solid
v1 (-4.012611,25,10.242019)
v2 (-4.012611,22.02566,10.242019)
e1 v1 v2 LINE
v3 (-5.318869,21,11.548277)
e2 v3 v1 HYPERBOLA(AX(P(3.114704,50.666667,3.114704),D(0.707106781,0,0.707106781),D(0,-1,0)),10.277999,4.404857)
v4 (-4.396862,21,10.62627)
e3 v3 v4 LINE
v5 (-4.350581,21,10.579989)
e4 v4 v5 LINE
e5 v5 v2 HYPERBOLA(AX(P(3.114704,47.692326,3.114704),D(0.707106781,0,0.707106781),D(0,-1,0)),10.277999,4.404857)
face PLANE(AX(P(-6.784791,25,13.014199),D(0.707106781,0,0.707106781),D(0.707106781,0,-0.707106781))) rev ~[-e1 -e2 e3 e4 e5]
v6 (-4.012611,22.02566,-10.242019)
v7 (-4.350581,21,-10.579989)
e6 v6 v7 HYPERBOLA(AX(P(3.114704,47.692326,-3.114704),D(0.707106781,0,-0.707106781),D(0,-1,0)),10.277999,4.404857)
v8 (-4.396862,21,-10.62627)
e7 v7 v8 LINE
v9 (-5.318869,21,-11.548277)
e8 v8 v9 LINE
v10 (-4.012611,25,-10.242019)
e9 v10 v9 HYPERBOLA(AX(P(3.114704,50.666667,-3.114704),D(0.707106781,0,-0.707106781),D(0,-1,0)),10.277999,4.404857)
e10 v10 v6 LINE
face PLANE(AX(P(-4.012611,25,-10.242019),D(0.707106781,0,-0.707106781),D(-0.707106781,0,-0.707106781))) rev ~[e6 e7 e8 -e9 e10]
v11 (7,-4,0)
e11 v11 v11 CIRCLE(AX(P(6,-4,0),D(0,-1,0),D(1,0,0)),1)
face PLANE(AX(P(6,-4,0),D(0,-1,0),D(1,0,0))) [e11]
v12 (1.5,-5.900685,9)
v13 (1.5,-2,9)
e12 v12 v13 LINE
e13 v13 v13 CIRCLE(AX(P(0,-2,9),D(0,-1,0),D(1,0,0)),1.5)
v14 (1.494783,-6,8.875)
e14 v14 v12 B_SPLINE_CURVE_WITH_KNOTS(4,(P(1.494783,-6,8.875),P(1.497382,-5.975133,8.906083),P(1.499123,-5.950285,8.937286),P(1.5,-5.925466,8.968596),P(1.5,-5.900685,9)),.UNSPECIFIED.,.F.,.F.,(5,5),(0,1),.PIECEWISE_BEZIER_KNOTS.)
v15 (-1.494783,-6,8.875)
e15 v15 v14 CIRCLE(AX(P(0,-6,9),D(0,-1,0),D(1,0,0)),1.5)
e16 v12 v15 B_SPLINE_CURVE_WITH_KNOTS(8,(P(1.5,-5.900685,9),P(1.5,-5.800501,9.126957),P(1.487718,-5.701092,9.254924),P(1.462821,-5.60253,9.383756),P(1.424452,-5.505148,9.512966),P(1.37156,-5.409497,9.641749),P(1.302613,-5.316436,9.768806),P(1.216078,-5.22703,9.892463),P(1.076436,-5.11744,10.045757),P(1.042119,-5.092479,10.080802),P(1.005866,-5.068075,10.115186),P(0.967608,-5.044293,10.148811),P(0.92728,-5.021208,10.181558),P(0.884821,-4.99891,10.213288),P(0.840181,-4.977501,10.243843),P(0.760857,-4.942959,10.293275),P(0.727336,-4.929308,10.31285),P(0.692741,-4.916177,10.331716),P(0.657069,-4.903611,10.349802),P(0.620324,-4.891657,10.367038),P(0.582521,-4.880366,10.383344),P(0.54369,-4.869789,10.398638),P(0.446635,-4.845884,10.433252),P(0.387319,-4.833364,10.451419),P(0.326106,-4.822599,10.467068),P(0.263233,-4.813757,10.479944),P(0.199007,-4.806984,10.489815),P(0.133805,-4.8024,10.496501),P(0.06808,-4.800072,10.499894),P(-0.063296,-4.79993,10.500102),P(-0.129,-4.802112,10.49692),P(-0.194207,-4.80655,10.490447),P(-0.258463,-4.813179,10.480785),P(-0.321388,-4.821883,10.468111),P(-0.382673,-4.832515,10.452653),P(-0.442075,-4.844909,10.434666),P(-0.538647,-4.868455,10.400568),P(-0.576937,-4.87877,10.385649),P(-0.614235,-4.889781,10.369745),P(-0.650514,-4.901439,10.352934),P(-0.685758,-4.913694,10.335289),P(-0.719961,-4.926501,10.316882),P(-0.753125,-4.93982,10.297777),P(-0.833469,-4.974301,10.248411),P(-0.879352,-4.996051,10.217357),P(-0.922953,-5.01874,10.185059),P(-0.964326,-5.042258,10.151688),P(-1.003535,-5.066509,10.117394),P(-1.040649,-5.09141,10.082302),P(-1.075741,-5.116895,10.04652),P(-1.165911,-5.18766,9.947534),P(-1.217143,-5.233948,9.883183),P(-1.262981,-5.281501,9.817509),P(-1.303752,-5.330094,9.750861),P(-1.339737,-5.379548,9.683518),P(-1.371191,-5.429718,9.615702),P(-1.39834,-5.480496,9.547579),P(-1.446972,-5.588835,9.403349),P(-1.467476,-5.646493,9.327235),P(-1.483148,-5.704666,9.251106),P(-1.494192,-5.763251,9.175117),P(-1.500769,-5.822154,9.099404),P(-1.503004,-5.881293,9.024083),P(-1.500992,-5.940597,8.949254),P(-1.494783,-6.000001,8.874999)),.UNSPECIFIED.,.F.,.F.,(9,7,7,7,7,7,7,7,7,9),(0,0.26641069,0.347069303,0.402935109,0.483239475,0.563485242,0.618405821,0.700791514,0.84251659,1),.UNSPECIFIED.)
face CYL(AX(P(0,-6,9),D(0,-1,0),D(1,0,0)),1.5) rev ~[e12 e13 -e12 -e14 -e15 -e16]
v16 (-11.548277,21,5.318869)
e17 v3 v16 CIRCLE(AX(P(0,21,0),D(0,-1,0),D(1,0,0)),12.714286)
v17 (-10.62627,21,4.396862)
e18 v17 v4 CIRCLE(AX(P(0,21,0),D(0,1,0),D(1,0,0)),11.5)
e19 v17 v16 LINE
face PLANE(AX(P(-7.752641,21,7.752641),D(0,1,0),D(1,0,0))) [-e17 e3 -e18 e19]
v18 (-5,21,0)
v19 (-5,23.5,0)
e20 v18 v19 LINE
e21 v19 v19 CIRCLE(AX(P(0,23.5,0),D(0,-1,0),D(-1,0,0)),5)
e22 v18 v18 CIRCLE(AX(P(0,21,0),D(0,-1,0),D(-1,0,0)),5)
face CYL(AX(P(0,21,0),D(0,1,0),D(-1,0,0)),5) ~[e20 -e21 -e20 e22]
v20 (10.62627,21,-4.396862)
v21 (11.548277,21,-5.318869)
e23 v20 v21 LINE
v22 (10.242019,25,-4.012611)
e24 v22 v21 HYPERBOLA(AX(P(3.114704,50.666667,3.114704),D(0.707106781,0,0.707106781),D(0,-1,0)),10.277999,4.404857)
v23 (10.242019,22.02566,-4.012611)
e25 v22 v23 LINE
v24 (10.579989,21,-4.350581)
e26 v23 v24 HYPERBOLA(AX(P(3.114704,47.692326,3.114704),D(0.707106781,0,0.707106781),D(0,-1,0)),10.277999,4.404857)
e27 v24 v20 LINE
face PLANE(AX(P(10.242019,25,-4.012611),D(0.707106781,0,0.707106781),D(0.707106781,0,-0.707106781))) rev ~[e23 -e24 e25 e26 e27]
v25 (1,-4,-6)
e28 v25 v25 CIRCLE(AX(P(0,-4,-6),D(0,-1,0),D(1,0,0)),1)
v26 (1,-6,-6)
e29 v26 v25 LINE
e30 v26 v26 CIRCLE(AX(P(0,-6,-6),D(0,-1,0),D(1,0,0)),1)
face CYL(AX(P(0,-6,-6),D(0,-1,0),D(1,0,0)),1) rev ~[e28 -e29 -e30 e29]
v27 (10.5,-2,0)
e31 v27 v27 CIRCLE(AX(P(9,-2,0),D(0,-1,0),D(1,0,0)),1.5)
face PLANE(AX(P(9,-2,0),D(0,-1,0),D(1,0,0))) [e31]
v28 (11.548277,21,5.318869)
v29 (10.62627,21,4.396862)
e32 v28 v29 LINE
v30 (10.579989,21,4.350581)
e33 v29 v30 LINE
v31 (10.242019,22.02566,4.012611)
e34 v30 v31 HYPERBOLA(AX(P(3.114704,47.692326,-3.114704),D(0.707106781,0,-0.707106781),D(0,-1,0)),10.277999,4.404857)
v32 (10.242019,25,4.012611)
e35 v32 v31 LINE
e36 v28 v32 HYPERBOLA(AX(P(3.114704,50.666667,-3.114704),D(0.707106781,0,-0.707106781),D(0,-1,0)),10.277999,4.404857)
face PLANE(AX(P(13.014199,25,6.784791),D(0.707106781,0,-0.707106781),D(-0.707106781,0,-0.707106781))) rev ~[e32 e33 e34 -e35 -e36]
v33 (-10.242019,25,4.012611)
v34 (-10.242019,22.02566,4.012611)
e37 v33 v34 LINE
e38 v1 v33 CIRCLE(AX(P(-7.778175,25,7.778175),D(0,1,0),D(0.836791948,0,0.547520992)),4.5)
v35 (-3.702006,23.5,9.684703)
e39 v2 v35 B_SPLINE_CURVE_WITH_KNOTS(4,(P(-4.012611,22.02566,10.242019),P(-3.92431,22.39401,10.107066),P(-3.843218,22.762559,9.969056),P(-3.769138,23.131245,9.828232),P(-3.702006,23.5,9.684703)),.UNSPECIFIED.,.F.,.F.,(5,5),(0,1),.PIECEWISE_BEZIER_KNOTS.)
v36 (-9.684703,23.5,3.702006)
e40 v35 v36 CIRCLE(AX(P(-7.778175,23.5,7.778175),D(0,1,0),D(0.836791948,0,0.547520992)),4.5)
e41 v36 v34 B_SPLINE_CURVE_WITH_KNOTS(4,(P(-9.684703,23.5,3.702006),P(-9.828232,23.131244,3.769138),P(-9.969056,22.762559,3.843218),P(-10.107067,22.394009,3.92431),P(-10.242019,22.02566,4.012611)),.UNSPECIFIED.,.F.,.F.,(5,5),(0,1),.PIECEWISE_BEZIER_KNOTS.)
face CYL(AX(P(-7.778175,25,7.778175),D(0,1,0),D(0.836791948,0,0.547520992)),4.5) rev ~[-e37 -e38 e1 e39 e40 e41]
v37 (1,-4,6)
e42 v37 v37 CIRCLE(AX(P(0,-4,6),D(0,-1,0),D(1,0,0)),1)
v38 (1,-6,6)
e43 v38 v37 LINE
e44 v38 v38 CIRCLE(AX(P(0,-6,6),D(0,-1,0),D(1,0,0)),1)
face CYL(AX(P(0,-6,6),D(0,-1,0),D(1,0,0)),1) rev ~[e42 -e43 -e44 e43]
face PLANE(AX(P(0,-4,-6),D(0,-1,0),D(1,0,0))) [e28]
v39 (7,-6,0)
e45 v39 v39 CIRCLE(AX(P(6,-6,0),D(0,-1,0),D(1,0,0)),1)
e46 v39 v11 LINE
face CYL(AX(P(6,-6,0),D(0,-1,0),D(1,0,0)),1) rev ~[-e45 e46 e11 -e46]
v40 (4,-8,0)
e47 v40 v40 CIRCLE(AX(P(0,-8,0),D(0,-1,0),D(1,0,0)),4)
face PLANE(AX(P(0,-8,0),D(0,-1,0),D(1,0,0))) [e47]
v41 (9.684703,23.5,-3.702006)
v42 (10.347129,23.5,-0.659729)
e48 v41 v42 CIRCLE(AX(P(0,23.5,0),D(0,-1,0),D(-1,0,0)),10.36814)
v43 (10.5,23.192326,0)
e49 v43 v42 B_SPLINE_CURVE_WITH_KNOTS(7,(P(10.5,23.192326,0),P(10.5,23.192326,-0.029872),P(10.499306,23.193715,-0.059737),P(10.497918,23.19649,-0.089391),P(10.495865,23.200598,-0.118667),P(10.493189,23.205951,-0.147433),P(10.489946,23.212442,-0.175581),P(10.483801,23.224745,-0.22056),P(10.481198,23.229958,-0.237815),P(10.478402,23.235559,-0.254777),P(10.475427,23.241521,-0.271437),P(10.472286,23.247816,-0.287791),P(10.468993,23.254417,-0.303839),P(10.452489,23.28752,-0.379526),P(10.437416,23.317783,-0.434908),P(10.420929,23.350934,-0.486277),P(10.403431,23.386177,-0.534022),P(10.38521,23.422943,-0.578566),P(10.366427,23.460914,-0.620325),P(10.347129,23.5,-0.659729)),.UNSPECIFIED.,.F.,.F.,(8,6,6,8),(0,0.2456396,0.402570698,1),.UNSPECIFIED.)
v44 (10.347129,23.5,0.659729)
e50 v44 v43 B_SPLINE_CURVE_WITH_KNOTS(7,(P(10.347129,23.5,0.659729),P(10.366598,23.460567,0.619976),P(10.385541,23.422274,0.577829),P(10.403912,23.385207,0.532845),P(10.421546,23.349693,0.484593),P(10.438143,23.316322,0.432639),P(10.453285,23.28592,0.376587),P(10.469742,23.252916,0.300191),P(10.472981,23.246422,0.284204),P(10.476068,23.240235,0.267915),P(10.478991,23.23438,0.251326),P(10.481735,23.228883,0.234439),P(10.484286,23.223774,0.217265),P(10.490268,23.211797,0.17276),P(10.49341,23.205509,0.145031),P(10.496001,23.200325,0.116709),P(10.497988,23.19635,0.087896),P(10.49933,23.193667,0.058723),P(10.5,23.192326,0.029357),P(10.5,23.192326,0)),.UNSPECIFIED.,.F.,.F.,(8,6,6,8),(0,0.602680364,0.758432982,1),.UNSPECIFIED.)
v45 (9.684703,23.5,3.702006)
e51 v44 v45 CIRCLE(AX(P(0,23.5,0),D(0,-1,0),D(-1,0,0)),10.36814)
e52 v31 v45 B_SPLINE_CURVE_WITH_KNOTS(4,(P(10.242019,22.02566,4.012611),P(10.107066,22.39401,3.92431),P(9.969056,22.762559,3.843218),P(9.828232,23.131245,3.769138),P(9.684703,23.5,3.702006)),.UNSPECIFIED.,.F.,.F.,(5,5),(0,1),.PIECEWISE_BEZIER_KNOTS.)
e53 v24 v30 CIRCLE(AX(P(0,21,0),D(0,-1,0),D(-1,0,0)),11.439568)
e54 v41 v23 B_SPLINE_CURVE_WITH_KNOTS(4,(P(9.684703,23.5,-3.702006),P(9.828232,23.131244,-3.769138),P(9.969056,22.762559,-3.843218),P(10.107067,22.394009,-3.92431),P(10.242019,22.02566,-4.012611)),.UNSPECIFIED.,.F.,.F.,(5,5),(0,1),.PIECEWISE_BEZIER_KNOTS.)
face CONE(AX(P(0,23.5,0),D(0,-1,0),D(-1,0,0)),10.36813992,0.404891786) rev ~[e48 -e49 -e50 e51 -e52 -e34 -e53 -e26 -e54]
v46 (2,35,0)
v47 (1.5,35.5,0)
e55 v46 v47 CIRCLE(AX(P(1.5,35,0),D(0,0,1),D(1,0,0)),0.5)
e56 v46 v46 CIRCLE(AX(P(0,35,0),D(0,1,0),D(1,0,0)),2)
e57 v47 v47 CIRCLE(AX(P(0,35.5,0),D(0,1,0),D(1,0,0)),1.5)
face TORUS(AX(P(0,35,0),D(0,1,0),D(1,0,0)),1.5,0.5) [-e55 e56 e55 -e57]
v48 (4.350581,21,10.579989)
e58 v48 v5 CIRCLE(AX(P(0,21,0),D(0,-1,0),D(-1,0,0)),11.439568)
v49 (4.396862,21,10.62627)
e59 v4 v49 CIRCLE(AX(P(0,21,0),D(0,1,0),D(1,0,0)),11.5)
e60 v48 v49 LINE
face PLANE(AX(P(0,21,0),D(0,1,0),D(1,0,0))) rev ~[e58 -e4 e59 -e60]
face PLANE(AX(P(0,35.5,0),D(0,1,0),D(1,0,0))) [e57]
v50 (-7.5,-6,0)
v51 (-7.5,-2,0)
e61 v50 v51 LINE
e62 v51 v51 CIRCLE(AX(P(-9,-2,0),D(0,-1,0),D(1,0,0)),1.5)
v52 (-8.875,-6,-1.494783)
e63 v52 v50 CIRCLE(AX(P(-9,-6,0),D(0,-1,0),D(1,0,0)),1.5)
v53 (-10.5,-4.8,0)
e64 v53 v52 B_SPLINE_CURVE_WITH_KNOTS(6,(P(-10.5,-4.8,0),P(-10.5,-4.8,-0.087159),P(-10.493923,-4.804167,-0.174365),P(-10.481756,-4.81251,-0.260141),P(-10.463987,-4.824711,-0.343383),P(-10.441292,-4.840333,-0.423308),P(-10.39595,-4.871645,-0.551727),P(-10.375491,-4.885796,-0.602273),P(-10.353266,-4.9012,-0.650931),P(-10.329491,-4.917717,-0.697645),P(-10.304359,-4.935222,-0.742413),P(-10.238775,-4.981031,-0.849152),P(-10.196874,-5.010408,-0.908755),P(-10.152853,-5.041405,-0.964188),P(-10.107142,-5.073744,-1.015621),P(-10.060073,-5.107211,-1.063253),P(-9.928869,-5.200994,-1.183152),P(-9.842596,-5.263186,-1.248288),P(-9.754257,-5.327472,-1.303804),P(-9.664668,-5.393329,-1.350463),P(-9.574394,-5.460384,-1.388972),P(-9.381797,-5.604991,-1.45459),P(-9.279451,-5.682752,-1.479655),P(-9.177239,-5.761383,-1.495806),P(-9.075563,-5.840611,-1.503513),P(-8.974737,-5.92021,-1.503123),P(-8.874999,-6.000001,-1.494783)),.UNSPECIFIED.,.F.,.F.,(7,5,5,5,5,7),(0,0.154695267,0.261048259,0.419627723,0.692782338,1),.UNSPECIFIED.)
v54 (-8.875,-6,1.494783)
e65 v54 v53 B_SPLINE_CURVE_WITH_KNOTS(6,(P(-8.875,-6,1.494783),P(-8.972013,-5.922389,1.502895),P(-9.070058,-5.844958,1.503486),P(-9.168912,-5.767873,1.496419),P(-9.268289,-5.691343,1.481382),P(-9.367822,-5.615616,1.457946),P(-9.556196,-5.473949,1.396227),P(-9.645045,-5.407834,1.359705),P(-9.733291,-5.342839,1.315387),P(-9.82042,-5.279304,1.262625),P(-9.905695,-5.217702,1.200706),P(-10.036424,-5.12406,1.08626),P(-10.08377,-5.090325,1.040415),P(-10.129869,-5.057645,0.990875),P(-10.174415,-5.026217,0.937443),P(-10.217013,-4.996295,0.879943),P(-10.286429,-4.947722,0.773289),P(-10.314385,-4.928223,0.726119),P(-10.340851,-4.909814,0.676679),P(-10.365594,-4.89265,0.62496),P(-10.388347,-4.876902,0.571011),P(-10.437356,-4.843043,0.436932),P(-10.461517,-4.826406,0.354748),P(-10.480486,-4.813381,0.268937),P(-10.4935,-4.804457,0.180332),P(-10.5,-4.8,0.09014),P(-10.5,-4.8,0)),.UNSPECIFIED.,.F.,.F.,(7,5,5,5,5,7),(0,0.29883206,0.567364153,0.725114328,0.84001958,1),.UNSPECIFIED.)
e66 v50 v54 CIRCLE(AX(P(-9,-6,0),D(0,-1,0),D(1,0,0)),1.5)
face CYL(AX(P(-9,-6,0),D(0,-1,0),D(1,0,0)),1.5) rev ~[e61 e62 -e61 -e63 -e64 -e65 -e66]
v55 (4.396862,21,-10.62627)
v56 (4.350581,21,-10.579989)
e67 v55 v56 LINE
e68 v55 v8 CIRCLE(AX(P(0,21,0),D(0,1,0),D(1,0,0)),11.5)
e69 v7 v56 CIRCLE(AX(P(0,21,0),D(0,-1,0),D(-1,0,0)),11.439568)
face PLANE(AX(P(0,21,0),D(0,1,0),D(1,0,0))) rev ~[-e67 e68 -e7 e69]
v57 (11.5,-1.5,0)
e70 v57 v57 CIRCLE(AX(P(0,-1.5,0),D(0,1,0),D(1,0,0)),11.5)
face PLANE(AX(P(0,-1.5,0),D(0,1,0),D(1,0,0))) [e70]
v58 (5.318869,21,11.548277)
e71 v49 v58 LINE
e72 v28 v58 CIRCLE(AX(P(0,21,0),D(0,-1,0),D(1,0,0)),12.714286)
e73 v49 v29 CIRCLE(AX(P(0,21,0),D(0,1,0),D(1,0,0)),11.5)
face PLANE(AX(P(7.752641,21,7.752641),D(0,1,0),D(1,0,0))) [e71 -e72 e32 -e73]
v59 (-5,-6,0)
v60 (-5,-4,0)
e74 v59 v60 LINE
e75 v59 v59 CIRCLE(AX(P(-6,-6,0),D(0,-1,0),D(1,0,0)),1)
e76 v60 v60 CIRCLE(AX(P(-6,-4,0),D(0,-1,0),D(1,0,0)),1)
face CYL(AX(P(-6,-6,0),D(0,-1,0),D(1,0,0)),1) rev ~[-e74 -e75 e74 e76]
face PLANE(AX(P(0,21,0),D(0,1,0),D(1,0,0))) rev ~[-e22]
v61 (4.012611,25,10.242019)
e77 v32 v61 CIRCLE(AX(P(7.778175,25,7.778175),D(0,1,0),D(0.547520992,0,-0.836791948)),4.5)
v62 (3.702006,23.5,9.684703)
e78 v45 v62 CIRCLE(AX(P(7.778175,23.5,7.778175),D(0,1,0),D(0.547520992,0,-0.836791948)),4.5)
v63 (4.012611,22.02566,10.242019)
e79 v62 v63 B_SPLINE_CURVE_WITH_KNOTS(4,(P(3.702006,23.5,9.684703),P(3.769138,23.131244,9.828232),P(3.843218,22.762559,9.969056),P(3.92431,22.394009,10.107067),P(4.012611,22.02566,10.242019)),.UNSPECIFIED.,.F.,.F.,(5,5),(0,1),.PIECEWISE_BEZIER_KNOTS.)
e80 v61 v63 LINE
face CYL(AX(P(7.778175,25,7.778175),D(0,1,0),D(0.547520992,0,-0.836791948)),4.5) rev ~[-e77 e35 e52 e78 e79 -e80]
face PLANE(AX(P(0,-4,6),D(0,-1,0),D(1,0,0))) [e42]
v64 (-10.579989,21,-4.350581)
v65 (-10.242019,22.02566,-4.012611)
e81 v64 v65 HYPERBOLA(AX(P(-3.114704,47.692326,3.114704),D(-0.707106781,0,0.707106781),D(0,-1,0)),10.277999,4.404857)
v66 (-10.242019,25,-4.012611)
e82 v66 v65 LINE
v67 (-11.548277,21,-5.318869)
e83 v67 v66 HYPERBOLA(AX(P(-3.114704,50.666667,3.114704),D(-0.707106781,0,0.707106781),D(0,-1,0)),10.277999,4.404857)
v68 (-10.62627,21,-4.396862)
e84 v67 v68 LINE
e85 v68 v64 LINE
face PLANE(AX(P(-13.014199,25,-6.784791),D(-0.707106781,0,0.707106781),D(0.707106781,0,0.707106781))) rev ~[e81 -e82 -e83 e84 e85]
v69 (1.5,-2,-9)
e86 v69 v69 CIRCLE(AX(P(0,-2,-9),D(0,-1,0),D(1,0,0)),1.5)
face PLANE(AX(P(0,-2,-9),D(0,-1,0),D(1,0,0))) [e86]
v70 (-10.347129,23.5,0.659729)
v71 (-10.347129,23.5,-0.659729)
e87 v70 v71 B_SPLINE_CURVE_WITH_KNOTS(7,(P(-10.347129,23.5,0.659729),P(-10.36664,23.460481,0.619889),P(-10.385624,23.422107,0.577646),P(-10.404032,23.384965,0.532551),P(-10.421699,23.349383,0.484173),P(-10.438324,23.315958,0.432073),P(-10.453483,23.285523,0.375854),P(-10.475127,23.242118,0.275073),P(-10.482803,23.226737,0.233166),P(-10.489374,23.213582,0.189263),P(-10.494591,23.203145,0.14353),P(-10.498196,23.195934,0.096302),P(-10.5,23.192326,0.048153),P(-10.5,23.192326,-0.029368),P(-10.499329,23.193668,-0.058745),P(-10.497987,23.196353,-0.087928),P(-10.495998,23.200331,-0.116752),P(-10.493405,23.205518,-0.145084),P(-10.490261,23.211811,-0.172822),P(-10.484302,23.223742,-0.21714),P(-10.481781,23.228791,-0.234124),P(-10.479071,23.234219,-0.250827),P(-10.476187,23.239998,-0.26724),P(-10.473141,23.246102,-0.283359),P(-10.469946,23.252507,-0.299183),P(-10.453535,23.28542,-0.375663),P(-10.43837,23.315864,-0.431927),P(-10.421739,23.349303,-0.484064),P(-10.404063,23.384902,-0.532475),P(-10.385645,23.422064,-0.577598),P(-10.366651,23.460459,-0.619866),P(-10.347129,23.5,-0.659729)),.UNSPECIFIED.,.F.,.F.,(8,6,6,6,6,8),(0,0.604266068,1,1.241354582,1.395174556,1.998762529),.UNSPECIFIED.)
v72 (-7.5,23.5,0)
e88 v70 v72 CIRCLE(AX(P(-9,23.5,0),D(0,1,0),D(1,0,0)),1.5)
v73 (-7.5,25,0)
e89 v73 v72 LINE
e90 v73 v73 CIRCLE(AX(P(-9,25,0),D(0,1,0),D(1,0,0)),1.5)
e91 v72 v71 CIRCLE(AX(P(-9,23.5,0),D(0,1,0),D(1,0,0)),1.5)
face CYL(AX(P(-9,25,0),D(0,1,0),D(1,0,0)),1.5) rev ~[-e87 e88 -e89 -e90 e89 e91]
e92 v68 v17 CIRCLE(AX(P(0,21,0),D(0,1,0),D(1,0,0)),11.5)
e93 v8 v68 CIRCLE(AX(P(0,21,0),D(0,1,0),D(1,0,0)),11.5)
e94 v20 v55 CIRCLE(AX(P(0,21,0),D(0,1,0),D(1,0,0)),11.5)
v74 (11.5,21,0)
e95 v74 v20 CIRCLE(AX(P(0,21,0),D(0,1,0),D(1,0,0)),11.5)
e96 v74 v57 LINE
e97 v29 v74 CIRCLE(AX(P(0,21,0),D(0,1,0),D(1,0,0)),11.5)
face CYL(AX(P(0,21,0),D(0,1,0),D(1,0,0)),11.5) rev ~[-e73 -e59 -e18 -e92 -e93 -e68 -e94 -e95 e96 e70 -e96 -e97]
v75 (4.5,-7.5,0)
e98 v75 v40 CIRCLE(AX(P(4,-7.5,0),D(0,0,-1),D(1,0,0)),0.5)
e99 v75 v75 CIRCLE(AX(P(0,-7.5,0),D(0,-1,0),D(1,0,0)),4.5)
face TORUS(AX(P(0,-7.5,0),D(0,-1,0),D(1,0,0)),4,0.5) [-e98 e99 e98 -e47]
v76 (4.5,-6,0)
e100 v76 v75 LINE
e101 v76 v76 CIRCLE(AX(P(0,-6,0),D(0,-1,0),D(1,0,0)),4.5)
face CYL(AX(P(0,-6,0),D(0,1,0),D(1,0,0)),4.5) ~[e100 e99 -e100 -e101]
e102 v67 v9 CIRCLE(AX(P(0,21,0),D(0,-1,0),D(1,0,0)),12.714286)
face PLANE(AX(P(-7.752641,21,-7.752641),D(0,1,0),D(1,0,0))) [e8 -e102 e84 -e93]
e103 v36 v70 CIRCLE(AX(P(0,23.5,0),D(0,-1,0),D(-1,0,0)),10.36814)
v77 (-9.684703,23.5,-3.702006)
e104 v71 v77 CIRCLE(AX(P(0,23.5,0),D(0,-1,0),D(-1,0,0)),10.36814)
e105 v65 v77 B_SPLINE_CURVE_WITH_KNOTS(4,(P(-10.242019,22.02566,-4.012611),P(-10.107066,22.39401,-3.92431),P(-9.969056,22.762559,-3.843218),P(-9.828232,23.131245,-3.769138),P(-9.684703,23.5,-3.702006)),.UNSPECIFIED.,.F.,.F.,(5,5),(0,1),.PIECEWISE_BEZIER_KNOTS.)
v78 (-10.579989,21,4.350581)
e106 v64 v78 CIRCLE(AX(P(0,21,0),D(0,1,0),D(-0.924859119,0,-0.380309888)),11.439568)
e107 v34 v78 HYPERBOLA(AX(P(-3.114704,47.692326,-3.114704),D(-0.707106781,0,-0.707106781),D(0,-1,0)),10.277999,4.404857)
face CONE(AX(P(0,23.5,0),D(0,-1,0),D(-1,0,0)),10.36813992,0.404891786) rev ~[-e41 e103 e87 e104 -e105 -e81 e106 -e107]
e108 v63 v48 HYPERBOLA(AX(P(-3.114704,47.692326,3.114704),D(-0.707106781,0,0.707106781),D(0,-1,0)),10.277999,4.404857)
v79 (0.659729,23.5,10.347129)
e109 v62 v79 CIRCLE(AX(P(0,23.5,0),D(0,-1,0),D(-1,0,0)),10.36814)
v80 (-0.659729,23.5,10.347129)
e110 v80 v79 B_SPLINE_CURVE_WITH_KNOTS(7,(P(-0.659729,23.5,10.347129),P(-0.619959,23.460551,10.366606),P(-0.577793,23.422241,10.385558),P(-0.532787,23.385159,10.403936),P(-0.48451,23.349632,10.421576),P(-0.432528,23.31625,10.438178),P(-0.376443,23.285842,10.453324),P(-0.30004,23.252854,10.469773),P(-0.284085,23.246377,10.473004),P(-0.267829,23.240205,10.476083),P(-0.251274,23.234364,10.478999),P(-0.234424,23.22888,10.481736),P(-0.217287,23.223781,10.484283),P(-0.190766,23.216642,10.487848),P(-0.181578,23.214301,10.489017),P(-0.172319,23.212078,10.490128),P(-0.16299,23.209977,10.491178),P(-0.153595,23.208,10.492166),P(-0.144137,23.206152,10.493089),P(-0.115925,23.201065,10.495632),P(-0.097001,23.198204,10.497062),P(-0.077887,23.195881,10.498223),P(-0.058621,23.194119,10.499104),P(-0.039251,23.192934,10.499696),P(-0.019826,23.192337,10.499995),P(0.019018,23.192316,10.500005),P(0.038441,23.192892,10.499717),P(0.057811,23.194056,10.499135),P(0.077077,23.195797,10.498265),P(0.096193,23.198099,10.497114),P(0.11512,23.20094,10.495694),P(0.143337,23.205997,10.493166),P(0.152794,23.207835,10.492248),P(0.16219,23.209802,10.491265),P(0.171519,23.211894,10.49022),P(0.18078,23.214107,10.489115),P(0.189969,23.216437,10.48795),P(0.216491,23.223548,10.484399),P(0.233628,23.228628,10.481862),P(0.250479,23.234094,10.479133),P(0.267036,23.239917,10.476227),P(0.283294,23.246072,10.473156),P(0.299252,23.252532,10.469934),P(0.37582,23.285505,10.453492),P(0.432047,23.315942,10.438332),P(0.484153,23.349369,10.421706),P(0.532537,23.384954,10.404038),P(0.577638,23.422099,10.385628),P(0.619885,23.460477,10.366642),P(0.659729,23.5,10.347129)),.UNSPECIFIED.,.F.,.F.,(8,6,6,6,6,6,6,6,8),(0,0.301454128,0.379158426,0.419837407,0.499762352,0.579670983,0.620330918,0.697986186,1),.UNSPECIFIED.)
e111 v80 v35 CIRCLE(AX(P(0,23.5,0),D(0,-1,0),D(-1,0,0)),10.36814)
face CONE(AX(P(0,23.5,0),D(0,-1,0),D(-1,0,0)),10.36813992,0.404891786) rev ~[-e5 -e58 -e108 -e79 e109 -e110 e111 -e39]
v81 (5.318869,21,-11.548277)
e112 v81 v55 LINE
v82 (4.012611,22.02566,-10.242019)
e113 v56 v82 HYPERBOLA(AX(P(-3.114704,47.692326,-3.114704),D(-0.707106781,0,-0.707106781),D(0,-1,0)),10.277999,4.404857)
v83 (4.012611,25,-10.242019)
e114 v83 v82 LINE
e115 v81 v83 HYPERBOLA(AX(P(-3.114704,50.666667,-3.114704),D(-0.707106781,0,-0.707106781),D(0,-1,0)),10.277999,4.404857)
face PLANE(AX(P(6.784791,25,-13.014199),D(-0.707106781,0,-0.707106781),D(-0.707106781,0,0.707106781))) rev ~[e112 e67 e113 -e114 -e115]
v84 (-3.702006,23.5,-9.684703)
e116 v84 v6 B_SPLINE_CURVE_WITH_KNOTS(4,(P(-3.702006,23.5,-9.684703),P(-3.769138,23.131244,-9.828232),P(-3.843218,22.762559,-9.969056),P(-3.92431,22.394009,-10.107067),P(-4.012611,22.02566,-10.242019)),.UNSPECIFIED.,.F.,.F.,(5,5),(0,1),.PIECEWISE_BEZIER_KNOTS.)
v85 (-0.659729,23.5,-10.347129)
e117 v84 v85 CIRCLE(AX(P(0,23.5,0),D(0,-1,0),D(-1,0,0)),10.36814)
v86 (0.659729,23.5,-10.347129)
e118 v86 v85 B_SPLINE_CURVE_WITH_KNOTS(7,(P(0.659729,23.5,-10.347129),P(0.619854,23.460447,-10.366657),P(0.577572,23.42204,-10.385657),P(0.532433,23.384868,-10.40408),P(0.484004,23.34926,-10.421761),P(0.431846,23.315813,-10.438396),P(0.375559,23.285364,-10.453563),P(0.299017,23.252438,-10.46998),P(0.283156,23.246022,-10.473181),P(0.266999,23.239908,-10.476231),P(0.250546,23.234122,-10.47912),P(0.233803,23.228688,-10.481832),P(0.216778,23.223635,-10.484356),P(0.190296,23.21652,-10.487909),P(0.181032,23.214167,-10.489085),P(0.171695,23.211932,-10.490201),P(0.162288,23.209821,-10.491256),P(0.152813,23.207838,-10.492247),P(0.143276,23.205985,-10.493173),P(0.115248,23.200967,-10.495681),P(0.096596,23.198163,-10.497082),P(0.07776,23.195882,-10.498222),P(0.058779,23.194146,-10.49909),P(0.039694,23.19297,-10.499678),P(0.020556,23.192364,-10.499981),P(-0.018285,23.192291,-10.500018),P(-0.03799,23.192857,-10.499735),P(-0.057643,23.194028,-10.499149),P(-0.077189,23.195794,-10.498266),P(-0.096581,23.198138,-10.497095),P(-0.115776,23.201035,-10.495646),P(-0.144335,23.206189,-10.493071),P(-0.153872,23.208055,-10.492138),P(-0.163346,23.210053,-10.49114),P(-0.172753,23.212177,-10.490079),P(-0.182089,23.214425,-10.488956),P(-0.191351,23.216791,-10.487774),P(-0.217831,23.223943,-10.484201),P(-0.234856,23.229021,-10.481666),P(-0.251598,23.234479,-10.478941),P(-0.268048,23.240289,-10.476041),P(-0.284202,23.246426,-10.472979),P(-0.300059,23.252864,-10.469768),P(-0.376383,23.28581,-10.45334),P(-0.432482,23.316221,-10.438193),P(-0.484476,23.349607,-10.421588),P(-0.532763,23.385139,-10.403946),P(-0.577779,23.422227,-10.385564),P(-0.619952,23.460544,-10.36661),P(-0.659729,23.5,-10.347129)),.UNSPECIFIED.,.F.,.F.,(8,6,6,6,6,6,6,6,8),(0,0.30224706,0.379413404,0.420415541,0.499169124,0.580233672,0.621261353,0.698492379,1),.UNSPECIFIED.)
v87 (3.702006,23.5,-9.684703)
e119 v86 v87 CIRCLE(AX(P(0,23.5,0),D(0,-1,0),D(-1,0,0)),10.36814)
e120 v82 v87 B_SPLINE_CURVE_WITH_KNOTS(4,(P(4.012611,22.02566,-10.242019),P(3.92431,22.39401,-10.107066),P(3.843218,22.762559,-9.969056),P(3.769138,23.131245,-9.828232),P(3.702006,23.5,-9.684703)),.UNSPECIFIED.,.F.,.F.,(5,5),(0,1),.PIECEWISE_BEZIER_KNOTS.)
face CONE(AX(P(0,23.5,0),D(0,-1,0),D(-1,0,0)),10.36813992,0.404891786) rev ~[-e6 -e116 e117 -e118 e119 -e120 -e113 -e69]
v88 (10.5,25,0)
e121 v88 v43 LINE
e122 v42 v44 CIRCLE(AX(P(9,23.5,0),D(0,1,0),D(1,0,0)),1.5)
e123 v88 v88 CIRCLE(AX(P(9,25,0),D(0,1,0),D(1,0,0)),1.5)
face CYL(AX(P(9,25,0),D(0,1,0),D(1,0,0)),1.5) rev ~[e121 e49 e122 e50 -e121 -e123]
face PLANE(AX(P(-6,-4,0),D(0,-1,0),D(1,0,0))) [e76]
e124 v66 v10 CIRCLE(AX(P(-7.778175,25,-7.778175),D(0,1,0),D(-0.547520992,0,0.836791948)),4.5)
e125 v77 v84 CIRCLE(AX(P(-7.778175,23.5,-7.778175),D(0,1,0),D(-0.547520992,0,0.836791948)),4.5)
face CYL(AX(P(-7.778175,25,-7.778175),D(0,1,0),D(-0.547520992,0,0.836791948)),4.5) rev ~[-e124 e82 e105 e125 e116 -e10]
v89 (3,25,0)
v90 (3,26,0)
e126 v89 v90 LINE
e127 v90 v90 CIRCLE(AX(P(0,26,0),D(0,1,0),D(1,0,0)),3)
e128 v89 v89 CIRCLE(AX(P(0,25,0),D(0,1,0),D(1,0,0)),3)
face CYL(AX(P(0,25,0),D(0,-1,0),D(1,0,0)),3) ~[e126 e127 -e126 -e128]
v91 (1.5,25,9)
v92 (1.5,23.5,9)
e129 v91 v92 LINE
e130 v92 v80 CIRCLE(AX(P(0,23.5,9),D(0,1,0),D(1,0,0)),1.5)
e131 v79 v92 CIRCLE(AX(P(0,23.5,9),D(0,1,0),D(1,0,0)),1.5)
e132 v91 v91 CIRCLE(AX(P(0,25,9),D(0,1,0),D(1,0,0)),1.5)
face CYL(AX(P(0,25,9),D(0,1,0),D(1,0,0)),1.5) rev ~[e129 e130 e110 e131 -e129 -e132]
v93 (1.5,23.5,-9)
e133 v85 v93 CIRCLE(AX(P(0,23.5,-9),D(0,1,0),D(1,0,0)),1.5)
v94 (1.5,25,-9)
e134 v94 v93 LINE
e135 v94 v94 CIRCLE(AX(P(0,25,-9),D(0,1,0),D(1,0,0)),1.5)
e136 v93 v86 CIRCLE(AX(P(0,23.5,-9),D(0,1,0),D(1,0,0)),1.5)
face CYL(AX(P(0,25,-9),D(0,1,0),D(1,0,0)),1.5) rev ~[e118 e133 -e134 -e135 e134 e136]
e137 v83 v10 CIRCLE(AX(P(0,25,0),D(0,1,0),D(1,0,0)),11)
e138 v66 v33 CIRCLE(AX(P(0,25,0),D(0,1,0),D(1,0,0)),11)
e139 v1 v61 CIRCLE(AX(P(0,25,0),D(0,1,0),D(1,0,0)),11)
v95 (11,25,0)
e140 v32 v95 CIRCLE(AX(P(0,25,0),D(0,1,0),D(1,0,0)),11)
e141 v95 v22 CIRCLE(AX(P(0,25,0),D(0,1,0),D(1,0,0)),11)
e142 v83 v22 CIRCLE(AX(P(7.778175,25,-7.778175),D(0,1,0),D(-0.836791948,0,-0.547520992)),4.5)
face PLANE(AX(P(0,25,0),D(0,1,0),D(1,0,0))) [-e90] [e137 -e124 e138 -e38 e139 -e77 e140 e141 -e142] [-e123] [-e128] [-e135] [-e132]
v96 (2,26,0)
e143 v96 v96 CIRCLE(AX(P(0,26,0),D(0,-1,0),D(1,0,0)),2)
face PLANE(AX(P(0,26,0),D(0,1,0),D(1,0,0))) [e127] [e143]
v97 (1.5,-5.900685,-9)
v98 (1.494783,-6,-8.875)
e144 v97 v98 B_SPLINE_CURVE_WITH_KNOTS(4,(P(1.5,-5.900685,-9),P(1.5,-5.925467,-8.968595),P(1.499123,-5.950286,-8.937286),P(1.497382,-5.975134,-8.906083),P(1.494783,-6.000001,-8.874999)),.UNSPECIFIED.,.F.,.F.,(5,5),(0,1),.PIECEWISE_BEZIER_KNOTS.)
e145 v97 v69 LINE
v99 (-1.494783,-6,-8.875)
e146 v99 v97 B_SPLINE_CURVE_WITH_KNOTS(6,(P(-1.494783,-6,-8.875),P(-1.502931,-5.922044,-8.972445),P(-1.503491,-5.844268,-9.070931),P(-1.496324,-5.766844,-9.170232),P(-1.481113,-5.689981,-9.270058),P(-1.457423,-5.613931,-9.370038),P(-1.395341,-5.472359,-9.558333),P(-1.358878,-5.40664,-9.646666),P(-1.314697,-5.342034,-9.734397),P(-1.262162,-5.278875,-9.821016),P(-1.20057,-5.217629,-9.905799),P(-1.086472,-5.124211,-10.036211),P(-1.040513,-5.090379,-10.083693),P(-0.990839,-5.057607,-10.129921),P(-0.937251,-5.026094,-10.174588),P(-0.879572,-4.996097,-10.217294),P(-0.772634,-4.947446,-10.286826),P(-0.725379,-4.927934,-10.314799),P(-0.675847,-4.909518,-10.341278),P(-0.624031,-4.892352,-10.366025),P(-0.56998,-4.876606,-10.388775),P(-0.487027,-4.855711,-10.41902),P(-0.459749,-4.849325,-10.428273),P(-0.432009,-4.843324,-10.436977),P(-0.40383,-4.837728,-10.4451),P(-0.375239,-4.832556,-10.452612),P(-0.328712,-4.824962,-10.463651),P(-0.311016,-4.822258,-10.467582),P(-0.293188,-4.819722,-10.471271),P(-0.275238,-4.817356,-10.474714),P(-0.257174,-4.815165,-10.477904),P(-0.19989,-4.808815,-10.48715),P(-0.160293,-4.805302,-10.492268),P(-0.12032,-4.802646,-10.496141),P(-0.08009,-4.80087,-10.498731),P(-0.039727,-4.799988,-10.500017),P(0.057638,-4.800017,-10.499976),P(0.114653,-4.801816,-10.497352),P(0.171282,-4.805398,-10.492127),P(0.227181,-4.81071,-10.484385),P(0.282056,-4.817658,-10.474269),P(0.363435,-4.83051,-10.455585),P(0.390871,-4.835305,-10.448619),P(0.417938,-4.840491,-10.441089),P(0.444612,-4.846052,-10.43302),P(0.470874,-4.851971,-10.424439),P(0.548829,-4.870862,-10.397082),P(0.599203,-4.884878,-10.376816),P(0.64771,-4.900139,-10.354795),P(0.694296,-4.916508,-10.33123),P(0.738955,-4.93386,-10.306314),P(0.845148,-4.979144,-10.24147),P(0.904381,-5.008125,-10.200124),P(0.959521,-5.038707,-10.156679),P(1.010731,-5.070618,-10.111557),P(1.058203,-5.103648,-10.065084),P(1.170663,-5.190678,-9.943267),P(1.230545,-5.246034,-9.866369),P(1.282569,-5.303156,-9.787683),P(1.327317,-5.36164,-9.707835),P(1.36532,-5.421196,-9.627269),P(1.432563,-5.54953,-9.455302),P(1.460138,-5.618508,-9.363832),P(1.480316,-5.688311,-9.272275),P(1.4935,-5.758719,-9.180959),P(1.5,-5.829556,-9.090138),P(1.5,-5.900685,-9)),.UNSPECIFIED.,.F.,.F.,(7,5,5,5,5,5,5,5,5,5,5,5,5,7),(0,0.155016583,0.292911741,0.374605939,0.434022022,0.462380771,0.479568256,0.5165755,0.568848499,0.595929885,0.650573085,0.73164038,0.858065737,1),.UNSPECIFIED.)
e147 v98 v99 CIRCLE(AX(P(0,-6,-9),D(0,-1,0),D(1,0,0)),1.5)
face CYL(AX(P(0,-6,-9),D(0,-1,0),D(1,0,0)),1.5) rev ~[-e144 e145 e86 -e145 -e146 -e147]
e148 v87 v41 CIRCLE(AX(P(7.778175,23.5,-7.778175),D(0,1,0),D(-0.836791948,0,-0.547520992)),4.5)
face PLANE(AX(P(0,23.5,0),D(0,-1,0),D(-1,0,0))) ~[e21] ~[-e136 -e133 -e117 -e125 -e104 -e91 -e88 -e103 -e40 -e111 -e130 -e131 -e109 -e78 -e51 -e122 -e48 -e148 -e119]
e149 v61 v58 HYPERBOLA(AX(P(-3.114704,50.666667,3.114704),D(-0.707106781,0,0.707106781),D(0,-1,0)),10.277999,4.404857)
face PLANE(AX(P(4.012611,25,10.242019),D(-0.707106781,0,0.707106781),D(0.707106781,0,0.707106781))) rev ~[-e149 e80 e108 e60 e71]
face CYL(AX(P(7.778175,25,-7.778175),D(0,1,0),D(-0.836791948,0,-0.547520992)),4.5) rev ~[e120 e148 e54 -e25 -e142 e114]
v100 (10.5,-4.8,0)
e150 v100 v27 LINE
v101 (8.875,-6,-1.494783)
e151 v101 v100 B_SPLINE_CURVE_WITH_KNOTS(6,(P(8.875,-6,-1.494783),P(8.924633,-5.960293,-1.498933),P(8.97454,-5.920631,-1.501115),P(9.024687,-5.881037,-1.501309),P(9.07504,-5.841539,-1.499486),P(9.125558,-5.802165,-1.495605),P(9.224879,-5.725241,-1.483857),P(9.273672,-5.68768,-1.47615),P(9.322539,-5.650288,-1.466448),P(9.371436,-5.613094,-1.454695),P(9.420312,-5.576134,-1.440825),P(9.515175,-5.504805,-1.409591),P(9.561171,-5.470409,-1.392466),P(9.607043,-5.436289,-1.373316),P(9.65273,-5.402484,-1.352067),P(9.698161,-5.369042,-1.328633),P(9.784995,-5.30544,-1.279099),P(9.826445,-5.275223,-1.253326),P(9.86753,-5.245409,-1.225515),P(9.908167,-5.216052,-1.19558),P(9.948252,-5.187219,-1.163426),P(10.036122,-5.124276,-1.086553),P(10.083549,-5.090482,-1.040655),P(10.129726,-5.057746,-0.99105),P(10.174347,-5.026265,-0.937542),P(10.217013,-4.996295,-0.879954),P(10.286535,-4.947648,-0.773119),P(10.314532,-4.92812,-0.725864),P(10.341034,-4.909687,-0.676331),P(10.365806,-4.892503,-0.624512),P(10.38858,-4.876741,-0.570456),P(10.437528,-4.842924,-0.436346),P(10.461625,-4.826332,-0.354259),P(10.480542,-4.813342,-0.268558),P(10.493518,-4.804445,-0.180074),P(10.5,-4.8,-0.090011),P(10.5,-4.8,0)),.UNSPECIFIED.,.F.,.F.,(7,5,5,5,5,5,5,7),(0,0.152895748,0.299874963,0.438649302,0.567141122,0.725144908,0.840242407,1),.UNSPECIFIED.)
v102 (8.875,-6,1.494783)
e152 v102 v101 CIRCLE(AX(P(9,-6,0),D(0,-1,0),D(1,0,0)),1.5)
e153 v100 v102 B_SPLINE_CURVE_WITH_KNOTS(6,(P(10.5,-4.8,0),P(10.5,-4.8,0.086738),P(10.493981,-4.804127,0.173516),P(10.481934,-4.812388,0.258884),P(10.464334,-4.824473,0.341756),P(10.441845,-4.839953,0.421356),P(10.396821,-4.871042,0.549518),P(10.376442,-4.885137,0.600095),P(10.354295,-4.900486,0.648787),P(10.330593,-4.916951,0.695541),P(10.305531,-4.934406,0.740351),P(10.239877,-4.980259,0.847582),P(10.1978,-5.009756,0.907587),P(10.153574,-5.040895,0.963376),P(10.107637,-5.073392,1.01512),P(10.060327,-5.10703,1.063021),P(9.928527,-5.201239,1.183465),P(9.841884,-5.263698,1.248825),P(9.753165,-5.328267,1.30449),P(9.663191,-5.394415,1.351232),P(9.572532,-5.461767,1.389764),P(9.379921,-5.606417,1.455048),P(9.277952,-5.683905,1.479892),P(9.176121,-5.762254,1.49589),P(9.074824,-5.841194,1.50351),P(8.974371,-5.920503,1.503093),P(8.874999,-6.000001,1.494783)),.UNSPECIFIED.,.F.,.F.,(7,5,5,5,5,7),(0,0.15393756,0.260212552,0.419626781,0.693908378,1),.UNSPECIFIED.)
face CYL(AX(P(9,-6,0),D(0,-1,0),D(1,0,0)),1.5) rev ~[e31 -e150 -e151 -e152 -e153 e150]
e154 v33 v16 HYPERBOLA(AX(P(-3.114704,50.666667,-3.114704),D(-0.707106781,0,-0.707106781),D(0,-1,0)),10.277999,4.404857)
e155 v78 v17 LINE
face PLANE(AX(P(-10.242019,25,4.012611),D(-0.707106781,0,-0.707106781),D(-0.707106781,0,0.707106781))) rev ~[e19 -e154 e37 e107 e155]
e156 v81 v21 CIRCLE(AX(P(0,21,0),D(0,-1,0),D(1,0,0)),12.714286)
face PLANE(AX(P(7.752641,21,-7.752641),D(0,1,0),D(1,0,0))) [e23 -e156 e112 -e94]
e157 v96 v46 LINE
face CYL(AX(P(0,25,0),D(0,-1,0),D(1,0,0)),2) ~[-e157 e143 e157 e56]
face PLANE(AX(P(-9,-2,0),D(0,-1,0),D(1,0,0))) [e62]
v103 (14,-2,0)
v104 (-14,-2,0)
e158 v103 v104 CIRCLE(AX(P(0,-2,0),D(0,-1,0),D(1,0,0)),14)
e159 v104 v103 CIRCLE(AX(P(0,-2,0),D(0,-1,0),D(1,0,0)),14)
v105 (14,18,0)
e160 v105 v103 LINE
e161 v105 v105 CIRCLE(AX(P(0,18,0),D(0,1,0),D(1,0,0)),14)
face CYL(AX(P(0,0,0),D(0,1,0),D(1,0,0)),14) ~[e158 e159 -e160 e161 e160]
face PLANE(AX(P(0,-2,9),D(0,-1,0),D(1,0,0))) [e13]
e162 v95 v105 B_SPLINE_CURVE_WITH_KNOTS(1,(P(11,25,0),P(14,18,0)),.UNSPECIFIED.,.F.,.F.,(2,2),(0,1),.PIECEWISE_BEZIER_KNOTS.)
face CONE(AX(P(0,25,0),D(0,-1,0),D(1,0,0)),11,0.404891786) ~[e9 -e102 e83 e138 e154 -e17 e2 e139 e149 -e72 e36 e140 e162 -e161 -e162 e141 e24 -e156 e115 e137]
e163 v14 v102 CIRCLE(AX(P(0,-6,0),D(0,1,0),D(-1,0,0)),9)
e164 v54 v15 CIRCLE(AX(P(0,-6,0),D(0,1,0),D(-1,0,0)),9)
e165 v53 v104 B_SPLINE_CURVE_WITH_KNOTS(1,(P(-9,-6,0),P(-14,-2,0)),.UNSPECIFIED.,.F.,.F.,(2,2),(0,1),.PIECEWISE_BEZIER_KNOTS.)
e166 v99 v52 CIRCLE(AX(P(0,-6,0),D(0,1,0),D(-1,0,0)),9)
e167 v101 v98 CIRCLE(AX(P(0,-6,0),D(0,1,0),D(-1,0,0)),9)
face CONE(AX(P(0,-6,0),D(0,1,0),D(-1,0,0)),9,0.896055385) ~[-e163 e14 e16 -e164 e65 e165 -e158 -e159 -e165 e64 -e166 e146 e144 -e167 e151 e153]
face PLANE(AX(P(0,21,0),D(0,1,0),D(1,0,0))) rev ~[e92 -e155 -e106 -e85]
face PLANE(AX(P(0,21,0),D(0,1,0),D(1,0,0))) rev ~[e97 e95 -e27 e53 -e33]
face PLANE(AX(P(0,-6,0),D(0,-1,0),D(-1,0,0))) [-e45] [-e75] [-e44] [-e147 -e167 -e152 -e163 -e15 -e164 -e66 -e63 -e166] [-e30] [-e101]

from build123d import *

# Parameters (mm, degrees)
SKETCH1_R           = 14
BOSS_EXTRUDE1_DEPTH = 18
SKETCH2_R           = 11
SKETCH3_R           = 3
SKETCH3_R_2         = 1.5
BOSS_EXTRUDE2_DEPTH = 1
SKETCH4_R           = 2
BOSS_EXTRUDE3_DEPTH = 10.5
SKETCH7_R           = 14
BOSS_EXTRUDE5_DEPTH = 2
SKETCH5_R           = 9
SKETCH6_R           = 4.5
BOSS_EXTRUDE4_DEPTH = 2
SKETCH9_R           = 1.5
CUT_EXTRUDE5_DEPTH  = 4
SKETCH10_R          = 1.5
CUT_EXTRUDE6_DEPTH  = 4
SKETCH11_R          = 1
CUT_EXTRUDE7_DEPTH  = 2
CUT_EXTRUDE8_DEPTH  = 4
SKETCH13_R          = 11.5
CUT_EXTRUDE9_DEPTH  = 22.5
FILLET1_R           = 0.5


with BuildPart() as part:
    # Sketch1 → Boss-Extrude1 (new body)
    with BuildSketch(Plane(origin=(0, 0, 0), x_dir=(1, 0, 0), z_dir=(0, 1, 0))):
        Circle(SKETCH1_R)
    extrude(amount=BOSS_EXTRUDE1_DEPTH)

    # Sketch2 → section 0 of loft1
    with BuildSketch(Plane(origin=(0, 25, 0), x_dir=(1, 0, 0), z_dir=(0, 1, 0)), mode=Mode.PRIVATE) as loft1_s0:
        Circle(SKETCH2_R)
    # loft up to a face of the part (loft1)
    loft([loft1_s0.sketch, part.faces().sort_by_distance((0, 18, 0))[0]])

    # Sketch3 → Boss-Extrude2 (add)
    with BuildSketch(Plane(origin=(0, 25, 0), x_dir=(1, 0, 0), z_dir=(0, 1, 0))):
        Circle(SKETCH3_R)
        Circle(SKETCH3_R_2, mode=Mode.SUBTRACT)
    extrude(amount=BOSS_EXTRUDE2_DEPTH)

    # Sketch4 → Boss-Extrude3 (add)
    with BuildSketch(Plane(origin=(0, 25, 0), x_dir=(1, 0, 0), z_dir=(0, 1, 0))):
        Circle(SKETCH4_R)
    extrude(amount=BOSS_EXTRUDE3_DEPTH)

    # Sketch7 → Boss-Extrude5 (add)
    with BuildSketch(Plane.XZ):
        Circle(SKETCH7_R)
    extrude(amount=BOSS_EXTRUDE5_DEPTH)

    # Sketch5 → section 0 of loft2
    with BuildSketch(Plane(origin=(0, -6, 0), x_dir=(-1, 0, 0), z_dir=(0, -1, 0)), mode=Mode.PRIVATE) as loft2_s0:
        Circle(SKETCH5_R)
    # loft up to a face of the part (loft2)
    loft([loft2_s0.sketch, part.faces().sort_by_distance((0, -2, 0))[0]])

    # Sketch6 → Boss-Extrude4 (add)
    with BuildSketch(Plane.XZ.offset(6)):
        Circle(SKETCH6_R)
    extrude(amount=BOSS_EXTRUDE4_DEPTH)

    # Sketch9 → Cut-Extrude5 (cut)
    with BuildSketch(Plane(origin=(0, 25, 0), x_dir=(1, 0, 0), z_dir=(0, 1, 0))):
        with Locations((0, 9)):
            Circle(SKETCH9_R)
        with Locations((9, 0)):
            Circle(SKETCH9_R)
        with Locations((0, -9)):
            Circle(SKETCH9_R)
        with Locations((-9, 0)):
            Circle(SKETCH9_R)
    extrude(amount=-CUT_EXTRUDE5_DEPTH, mode=Mode.SUBTRACT)

    # Sketch10 → Cut-Extrude6 (cut)
    with BuildSketch(Plane.XZ.offset(6)):
        with Locations((0, 9)):
            Circle(SKETCH10_R)
        with Locations((9, 0)):
            Circle(SKETCH10_R)
        with Locations((0, -9)):
            Circle(SKETCH10_R)
        with Locations((-9, 0)):
            Circle(SKETCH10_R)
    extrude(amount=-CUT_EXTRUDE6_DEPTH, mode=Mode.SUBTRACT)

    # Sketch11 → Cut-Extrude7 (cut)
    with BuildSketch(Plane.XZ.offset(6)):
        with Locations((0, 6)):
            Circle(SKETCH11_R)
        with Locations((6, 0)):
            Circle(SKETCH11_R)
        with Locations((0, -6)):
            Circle(SKETCH11_R)
        with Locations((-6, 0)):
            Circle(SKETCH11_R)
    extrude(amount=-CUT_EXTRUDE7_DEPTH, mode=Mode.SUBTRACT)

    # Sketch12 → Cut-Extrude8 (cut)
    with BuildSketch(Plane(origin=(0, 25, 0), x_dir=(1, 0, 0), z_dir=(0, 1, 0))):
        with BuildLine():
            Line((-10.242019056, -4.012610829), (-13.01419905, -6.784790823))
            Line((-13.01419905, -6.784790823), (-6.784790823, -13.01419905))
            Line((-6.784790823, -13.01419905), (-4.012610829, -10.242019056))
            ThreePointArc((-4.012610829, -10.242019056), (-4.596194078, -4.596194078), (-10.242019056, -4.012610829))
        make_face()
        with BuildLine():
            Line((-13.01419905, 6.784790823), (-10.242019056, 4.012610829))
            ThreePointArc((-10.242019056, 4.012610829), (-4.596194078, 4.596194078), (-4.012610829, 10.242019056))
            Line((-4.012610829, 10.242019056), (-6.784790823, 13.01419905))
            Line((-6.784790823, 13.01419905), (-13.01419905, 6.784790823))
        make_face()
        with BuildLine():
            Line((6.784790823, 13.01419905), (4.012610829, 10.242019056))
            ThreePointArc((4.012610829, 10.242019056), (4.596194078, 4.596194078), (10.242019056, 4.012610829))
            Line((10.242019056, 4.012610829), (13.01419905, 6.784790823))
            Line((13.01419905, 6.784790823), (6.784790823, 13.01419905))
        make_face()
        with BuildLine():
            Line((13.01419905, -6.784790823), (10.242019056, -4.012610829))
            ThreePointArc((10.242019056, -4.012610829), (4.596194078, -4.596194078), (4.012610829, -10.242019056))
            Line((4.012610829, -10.242019056), (6.784790823, -13.01419905))
            Line((6.784790823, -13.01419905), (13.01419905, -6.784790823))
        make_face()
    extrude(amount=-CUT_EXTRUDE8_DEPTH, mode=Mode.SUBTRACT)

    # Sketch13 → Cut-Extrude9 (cut)
    with BuildSketch(Plane(origin=(0, 21, 0), x_dir=(1, 0, 0), z_dir=(0, 1, 0))):
        Circle(SKETCH13_R)
    extrude(amount=-CUT_EXTRUDE9_DEPTH, mode=Mode.SUBTRACT)

    # Fillet1
    fillet1_edges = [part.edges().sort_by_distance(p)[0] for p in [
        (-2, 35.5, 0),
        (-4.5, -8, 0),
    ]]
    fillet(fillet1_edges, radius=FILLET1_R)

    # Sketch17 → Cut-Revolve1 (revolve, cut)
    with BuildSketch(Plane.XY):
        Polygon((-10.36813992, 23.5), (-11.439568492, 21), (-5, 21), (-5, 23.5), align=None)
    revolve(axis=Axis((0, 25, 0), (0, -1, 0)), mode=Mode.SUBTRACT)


solid = part.part
